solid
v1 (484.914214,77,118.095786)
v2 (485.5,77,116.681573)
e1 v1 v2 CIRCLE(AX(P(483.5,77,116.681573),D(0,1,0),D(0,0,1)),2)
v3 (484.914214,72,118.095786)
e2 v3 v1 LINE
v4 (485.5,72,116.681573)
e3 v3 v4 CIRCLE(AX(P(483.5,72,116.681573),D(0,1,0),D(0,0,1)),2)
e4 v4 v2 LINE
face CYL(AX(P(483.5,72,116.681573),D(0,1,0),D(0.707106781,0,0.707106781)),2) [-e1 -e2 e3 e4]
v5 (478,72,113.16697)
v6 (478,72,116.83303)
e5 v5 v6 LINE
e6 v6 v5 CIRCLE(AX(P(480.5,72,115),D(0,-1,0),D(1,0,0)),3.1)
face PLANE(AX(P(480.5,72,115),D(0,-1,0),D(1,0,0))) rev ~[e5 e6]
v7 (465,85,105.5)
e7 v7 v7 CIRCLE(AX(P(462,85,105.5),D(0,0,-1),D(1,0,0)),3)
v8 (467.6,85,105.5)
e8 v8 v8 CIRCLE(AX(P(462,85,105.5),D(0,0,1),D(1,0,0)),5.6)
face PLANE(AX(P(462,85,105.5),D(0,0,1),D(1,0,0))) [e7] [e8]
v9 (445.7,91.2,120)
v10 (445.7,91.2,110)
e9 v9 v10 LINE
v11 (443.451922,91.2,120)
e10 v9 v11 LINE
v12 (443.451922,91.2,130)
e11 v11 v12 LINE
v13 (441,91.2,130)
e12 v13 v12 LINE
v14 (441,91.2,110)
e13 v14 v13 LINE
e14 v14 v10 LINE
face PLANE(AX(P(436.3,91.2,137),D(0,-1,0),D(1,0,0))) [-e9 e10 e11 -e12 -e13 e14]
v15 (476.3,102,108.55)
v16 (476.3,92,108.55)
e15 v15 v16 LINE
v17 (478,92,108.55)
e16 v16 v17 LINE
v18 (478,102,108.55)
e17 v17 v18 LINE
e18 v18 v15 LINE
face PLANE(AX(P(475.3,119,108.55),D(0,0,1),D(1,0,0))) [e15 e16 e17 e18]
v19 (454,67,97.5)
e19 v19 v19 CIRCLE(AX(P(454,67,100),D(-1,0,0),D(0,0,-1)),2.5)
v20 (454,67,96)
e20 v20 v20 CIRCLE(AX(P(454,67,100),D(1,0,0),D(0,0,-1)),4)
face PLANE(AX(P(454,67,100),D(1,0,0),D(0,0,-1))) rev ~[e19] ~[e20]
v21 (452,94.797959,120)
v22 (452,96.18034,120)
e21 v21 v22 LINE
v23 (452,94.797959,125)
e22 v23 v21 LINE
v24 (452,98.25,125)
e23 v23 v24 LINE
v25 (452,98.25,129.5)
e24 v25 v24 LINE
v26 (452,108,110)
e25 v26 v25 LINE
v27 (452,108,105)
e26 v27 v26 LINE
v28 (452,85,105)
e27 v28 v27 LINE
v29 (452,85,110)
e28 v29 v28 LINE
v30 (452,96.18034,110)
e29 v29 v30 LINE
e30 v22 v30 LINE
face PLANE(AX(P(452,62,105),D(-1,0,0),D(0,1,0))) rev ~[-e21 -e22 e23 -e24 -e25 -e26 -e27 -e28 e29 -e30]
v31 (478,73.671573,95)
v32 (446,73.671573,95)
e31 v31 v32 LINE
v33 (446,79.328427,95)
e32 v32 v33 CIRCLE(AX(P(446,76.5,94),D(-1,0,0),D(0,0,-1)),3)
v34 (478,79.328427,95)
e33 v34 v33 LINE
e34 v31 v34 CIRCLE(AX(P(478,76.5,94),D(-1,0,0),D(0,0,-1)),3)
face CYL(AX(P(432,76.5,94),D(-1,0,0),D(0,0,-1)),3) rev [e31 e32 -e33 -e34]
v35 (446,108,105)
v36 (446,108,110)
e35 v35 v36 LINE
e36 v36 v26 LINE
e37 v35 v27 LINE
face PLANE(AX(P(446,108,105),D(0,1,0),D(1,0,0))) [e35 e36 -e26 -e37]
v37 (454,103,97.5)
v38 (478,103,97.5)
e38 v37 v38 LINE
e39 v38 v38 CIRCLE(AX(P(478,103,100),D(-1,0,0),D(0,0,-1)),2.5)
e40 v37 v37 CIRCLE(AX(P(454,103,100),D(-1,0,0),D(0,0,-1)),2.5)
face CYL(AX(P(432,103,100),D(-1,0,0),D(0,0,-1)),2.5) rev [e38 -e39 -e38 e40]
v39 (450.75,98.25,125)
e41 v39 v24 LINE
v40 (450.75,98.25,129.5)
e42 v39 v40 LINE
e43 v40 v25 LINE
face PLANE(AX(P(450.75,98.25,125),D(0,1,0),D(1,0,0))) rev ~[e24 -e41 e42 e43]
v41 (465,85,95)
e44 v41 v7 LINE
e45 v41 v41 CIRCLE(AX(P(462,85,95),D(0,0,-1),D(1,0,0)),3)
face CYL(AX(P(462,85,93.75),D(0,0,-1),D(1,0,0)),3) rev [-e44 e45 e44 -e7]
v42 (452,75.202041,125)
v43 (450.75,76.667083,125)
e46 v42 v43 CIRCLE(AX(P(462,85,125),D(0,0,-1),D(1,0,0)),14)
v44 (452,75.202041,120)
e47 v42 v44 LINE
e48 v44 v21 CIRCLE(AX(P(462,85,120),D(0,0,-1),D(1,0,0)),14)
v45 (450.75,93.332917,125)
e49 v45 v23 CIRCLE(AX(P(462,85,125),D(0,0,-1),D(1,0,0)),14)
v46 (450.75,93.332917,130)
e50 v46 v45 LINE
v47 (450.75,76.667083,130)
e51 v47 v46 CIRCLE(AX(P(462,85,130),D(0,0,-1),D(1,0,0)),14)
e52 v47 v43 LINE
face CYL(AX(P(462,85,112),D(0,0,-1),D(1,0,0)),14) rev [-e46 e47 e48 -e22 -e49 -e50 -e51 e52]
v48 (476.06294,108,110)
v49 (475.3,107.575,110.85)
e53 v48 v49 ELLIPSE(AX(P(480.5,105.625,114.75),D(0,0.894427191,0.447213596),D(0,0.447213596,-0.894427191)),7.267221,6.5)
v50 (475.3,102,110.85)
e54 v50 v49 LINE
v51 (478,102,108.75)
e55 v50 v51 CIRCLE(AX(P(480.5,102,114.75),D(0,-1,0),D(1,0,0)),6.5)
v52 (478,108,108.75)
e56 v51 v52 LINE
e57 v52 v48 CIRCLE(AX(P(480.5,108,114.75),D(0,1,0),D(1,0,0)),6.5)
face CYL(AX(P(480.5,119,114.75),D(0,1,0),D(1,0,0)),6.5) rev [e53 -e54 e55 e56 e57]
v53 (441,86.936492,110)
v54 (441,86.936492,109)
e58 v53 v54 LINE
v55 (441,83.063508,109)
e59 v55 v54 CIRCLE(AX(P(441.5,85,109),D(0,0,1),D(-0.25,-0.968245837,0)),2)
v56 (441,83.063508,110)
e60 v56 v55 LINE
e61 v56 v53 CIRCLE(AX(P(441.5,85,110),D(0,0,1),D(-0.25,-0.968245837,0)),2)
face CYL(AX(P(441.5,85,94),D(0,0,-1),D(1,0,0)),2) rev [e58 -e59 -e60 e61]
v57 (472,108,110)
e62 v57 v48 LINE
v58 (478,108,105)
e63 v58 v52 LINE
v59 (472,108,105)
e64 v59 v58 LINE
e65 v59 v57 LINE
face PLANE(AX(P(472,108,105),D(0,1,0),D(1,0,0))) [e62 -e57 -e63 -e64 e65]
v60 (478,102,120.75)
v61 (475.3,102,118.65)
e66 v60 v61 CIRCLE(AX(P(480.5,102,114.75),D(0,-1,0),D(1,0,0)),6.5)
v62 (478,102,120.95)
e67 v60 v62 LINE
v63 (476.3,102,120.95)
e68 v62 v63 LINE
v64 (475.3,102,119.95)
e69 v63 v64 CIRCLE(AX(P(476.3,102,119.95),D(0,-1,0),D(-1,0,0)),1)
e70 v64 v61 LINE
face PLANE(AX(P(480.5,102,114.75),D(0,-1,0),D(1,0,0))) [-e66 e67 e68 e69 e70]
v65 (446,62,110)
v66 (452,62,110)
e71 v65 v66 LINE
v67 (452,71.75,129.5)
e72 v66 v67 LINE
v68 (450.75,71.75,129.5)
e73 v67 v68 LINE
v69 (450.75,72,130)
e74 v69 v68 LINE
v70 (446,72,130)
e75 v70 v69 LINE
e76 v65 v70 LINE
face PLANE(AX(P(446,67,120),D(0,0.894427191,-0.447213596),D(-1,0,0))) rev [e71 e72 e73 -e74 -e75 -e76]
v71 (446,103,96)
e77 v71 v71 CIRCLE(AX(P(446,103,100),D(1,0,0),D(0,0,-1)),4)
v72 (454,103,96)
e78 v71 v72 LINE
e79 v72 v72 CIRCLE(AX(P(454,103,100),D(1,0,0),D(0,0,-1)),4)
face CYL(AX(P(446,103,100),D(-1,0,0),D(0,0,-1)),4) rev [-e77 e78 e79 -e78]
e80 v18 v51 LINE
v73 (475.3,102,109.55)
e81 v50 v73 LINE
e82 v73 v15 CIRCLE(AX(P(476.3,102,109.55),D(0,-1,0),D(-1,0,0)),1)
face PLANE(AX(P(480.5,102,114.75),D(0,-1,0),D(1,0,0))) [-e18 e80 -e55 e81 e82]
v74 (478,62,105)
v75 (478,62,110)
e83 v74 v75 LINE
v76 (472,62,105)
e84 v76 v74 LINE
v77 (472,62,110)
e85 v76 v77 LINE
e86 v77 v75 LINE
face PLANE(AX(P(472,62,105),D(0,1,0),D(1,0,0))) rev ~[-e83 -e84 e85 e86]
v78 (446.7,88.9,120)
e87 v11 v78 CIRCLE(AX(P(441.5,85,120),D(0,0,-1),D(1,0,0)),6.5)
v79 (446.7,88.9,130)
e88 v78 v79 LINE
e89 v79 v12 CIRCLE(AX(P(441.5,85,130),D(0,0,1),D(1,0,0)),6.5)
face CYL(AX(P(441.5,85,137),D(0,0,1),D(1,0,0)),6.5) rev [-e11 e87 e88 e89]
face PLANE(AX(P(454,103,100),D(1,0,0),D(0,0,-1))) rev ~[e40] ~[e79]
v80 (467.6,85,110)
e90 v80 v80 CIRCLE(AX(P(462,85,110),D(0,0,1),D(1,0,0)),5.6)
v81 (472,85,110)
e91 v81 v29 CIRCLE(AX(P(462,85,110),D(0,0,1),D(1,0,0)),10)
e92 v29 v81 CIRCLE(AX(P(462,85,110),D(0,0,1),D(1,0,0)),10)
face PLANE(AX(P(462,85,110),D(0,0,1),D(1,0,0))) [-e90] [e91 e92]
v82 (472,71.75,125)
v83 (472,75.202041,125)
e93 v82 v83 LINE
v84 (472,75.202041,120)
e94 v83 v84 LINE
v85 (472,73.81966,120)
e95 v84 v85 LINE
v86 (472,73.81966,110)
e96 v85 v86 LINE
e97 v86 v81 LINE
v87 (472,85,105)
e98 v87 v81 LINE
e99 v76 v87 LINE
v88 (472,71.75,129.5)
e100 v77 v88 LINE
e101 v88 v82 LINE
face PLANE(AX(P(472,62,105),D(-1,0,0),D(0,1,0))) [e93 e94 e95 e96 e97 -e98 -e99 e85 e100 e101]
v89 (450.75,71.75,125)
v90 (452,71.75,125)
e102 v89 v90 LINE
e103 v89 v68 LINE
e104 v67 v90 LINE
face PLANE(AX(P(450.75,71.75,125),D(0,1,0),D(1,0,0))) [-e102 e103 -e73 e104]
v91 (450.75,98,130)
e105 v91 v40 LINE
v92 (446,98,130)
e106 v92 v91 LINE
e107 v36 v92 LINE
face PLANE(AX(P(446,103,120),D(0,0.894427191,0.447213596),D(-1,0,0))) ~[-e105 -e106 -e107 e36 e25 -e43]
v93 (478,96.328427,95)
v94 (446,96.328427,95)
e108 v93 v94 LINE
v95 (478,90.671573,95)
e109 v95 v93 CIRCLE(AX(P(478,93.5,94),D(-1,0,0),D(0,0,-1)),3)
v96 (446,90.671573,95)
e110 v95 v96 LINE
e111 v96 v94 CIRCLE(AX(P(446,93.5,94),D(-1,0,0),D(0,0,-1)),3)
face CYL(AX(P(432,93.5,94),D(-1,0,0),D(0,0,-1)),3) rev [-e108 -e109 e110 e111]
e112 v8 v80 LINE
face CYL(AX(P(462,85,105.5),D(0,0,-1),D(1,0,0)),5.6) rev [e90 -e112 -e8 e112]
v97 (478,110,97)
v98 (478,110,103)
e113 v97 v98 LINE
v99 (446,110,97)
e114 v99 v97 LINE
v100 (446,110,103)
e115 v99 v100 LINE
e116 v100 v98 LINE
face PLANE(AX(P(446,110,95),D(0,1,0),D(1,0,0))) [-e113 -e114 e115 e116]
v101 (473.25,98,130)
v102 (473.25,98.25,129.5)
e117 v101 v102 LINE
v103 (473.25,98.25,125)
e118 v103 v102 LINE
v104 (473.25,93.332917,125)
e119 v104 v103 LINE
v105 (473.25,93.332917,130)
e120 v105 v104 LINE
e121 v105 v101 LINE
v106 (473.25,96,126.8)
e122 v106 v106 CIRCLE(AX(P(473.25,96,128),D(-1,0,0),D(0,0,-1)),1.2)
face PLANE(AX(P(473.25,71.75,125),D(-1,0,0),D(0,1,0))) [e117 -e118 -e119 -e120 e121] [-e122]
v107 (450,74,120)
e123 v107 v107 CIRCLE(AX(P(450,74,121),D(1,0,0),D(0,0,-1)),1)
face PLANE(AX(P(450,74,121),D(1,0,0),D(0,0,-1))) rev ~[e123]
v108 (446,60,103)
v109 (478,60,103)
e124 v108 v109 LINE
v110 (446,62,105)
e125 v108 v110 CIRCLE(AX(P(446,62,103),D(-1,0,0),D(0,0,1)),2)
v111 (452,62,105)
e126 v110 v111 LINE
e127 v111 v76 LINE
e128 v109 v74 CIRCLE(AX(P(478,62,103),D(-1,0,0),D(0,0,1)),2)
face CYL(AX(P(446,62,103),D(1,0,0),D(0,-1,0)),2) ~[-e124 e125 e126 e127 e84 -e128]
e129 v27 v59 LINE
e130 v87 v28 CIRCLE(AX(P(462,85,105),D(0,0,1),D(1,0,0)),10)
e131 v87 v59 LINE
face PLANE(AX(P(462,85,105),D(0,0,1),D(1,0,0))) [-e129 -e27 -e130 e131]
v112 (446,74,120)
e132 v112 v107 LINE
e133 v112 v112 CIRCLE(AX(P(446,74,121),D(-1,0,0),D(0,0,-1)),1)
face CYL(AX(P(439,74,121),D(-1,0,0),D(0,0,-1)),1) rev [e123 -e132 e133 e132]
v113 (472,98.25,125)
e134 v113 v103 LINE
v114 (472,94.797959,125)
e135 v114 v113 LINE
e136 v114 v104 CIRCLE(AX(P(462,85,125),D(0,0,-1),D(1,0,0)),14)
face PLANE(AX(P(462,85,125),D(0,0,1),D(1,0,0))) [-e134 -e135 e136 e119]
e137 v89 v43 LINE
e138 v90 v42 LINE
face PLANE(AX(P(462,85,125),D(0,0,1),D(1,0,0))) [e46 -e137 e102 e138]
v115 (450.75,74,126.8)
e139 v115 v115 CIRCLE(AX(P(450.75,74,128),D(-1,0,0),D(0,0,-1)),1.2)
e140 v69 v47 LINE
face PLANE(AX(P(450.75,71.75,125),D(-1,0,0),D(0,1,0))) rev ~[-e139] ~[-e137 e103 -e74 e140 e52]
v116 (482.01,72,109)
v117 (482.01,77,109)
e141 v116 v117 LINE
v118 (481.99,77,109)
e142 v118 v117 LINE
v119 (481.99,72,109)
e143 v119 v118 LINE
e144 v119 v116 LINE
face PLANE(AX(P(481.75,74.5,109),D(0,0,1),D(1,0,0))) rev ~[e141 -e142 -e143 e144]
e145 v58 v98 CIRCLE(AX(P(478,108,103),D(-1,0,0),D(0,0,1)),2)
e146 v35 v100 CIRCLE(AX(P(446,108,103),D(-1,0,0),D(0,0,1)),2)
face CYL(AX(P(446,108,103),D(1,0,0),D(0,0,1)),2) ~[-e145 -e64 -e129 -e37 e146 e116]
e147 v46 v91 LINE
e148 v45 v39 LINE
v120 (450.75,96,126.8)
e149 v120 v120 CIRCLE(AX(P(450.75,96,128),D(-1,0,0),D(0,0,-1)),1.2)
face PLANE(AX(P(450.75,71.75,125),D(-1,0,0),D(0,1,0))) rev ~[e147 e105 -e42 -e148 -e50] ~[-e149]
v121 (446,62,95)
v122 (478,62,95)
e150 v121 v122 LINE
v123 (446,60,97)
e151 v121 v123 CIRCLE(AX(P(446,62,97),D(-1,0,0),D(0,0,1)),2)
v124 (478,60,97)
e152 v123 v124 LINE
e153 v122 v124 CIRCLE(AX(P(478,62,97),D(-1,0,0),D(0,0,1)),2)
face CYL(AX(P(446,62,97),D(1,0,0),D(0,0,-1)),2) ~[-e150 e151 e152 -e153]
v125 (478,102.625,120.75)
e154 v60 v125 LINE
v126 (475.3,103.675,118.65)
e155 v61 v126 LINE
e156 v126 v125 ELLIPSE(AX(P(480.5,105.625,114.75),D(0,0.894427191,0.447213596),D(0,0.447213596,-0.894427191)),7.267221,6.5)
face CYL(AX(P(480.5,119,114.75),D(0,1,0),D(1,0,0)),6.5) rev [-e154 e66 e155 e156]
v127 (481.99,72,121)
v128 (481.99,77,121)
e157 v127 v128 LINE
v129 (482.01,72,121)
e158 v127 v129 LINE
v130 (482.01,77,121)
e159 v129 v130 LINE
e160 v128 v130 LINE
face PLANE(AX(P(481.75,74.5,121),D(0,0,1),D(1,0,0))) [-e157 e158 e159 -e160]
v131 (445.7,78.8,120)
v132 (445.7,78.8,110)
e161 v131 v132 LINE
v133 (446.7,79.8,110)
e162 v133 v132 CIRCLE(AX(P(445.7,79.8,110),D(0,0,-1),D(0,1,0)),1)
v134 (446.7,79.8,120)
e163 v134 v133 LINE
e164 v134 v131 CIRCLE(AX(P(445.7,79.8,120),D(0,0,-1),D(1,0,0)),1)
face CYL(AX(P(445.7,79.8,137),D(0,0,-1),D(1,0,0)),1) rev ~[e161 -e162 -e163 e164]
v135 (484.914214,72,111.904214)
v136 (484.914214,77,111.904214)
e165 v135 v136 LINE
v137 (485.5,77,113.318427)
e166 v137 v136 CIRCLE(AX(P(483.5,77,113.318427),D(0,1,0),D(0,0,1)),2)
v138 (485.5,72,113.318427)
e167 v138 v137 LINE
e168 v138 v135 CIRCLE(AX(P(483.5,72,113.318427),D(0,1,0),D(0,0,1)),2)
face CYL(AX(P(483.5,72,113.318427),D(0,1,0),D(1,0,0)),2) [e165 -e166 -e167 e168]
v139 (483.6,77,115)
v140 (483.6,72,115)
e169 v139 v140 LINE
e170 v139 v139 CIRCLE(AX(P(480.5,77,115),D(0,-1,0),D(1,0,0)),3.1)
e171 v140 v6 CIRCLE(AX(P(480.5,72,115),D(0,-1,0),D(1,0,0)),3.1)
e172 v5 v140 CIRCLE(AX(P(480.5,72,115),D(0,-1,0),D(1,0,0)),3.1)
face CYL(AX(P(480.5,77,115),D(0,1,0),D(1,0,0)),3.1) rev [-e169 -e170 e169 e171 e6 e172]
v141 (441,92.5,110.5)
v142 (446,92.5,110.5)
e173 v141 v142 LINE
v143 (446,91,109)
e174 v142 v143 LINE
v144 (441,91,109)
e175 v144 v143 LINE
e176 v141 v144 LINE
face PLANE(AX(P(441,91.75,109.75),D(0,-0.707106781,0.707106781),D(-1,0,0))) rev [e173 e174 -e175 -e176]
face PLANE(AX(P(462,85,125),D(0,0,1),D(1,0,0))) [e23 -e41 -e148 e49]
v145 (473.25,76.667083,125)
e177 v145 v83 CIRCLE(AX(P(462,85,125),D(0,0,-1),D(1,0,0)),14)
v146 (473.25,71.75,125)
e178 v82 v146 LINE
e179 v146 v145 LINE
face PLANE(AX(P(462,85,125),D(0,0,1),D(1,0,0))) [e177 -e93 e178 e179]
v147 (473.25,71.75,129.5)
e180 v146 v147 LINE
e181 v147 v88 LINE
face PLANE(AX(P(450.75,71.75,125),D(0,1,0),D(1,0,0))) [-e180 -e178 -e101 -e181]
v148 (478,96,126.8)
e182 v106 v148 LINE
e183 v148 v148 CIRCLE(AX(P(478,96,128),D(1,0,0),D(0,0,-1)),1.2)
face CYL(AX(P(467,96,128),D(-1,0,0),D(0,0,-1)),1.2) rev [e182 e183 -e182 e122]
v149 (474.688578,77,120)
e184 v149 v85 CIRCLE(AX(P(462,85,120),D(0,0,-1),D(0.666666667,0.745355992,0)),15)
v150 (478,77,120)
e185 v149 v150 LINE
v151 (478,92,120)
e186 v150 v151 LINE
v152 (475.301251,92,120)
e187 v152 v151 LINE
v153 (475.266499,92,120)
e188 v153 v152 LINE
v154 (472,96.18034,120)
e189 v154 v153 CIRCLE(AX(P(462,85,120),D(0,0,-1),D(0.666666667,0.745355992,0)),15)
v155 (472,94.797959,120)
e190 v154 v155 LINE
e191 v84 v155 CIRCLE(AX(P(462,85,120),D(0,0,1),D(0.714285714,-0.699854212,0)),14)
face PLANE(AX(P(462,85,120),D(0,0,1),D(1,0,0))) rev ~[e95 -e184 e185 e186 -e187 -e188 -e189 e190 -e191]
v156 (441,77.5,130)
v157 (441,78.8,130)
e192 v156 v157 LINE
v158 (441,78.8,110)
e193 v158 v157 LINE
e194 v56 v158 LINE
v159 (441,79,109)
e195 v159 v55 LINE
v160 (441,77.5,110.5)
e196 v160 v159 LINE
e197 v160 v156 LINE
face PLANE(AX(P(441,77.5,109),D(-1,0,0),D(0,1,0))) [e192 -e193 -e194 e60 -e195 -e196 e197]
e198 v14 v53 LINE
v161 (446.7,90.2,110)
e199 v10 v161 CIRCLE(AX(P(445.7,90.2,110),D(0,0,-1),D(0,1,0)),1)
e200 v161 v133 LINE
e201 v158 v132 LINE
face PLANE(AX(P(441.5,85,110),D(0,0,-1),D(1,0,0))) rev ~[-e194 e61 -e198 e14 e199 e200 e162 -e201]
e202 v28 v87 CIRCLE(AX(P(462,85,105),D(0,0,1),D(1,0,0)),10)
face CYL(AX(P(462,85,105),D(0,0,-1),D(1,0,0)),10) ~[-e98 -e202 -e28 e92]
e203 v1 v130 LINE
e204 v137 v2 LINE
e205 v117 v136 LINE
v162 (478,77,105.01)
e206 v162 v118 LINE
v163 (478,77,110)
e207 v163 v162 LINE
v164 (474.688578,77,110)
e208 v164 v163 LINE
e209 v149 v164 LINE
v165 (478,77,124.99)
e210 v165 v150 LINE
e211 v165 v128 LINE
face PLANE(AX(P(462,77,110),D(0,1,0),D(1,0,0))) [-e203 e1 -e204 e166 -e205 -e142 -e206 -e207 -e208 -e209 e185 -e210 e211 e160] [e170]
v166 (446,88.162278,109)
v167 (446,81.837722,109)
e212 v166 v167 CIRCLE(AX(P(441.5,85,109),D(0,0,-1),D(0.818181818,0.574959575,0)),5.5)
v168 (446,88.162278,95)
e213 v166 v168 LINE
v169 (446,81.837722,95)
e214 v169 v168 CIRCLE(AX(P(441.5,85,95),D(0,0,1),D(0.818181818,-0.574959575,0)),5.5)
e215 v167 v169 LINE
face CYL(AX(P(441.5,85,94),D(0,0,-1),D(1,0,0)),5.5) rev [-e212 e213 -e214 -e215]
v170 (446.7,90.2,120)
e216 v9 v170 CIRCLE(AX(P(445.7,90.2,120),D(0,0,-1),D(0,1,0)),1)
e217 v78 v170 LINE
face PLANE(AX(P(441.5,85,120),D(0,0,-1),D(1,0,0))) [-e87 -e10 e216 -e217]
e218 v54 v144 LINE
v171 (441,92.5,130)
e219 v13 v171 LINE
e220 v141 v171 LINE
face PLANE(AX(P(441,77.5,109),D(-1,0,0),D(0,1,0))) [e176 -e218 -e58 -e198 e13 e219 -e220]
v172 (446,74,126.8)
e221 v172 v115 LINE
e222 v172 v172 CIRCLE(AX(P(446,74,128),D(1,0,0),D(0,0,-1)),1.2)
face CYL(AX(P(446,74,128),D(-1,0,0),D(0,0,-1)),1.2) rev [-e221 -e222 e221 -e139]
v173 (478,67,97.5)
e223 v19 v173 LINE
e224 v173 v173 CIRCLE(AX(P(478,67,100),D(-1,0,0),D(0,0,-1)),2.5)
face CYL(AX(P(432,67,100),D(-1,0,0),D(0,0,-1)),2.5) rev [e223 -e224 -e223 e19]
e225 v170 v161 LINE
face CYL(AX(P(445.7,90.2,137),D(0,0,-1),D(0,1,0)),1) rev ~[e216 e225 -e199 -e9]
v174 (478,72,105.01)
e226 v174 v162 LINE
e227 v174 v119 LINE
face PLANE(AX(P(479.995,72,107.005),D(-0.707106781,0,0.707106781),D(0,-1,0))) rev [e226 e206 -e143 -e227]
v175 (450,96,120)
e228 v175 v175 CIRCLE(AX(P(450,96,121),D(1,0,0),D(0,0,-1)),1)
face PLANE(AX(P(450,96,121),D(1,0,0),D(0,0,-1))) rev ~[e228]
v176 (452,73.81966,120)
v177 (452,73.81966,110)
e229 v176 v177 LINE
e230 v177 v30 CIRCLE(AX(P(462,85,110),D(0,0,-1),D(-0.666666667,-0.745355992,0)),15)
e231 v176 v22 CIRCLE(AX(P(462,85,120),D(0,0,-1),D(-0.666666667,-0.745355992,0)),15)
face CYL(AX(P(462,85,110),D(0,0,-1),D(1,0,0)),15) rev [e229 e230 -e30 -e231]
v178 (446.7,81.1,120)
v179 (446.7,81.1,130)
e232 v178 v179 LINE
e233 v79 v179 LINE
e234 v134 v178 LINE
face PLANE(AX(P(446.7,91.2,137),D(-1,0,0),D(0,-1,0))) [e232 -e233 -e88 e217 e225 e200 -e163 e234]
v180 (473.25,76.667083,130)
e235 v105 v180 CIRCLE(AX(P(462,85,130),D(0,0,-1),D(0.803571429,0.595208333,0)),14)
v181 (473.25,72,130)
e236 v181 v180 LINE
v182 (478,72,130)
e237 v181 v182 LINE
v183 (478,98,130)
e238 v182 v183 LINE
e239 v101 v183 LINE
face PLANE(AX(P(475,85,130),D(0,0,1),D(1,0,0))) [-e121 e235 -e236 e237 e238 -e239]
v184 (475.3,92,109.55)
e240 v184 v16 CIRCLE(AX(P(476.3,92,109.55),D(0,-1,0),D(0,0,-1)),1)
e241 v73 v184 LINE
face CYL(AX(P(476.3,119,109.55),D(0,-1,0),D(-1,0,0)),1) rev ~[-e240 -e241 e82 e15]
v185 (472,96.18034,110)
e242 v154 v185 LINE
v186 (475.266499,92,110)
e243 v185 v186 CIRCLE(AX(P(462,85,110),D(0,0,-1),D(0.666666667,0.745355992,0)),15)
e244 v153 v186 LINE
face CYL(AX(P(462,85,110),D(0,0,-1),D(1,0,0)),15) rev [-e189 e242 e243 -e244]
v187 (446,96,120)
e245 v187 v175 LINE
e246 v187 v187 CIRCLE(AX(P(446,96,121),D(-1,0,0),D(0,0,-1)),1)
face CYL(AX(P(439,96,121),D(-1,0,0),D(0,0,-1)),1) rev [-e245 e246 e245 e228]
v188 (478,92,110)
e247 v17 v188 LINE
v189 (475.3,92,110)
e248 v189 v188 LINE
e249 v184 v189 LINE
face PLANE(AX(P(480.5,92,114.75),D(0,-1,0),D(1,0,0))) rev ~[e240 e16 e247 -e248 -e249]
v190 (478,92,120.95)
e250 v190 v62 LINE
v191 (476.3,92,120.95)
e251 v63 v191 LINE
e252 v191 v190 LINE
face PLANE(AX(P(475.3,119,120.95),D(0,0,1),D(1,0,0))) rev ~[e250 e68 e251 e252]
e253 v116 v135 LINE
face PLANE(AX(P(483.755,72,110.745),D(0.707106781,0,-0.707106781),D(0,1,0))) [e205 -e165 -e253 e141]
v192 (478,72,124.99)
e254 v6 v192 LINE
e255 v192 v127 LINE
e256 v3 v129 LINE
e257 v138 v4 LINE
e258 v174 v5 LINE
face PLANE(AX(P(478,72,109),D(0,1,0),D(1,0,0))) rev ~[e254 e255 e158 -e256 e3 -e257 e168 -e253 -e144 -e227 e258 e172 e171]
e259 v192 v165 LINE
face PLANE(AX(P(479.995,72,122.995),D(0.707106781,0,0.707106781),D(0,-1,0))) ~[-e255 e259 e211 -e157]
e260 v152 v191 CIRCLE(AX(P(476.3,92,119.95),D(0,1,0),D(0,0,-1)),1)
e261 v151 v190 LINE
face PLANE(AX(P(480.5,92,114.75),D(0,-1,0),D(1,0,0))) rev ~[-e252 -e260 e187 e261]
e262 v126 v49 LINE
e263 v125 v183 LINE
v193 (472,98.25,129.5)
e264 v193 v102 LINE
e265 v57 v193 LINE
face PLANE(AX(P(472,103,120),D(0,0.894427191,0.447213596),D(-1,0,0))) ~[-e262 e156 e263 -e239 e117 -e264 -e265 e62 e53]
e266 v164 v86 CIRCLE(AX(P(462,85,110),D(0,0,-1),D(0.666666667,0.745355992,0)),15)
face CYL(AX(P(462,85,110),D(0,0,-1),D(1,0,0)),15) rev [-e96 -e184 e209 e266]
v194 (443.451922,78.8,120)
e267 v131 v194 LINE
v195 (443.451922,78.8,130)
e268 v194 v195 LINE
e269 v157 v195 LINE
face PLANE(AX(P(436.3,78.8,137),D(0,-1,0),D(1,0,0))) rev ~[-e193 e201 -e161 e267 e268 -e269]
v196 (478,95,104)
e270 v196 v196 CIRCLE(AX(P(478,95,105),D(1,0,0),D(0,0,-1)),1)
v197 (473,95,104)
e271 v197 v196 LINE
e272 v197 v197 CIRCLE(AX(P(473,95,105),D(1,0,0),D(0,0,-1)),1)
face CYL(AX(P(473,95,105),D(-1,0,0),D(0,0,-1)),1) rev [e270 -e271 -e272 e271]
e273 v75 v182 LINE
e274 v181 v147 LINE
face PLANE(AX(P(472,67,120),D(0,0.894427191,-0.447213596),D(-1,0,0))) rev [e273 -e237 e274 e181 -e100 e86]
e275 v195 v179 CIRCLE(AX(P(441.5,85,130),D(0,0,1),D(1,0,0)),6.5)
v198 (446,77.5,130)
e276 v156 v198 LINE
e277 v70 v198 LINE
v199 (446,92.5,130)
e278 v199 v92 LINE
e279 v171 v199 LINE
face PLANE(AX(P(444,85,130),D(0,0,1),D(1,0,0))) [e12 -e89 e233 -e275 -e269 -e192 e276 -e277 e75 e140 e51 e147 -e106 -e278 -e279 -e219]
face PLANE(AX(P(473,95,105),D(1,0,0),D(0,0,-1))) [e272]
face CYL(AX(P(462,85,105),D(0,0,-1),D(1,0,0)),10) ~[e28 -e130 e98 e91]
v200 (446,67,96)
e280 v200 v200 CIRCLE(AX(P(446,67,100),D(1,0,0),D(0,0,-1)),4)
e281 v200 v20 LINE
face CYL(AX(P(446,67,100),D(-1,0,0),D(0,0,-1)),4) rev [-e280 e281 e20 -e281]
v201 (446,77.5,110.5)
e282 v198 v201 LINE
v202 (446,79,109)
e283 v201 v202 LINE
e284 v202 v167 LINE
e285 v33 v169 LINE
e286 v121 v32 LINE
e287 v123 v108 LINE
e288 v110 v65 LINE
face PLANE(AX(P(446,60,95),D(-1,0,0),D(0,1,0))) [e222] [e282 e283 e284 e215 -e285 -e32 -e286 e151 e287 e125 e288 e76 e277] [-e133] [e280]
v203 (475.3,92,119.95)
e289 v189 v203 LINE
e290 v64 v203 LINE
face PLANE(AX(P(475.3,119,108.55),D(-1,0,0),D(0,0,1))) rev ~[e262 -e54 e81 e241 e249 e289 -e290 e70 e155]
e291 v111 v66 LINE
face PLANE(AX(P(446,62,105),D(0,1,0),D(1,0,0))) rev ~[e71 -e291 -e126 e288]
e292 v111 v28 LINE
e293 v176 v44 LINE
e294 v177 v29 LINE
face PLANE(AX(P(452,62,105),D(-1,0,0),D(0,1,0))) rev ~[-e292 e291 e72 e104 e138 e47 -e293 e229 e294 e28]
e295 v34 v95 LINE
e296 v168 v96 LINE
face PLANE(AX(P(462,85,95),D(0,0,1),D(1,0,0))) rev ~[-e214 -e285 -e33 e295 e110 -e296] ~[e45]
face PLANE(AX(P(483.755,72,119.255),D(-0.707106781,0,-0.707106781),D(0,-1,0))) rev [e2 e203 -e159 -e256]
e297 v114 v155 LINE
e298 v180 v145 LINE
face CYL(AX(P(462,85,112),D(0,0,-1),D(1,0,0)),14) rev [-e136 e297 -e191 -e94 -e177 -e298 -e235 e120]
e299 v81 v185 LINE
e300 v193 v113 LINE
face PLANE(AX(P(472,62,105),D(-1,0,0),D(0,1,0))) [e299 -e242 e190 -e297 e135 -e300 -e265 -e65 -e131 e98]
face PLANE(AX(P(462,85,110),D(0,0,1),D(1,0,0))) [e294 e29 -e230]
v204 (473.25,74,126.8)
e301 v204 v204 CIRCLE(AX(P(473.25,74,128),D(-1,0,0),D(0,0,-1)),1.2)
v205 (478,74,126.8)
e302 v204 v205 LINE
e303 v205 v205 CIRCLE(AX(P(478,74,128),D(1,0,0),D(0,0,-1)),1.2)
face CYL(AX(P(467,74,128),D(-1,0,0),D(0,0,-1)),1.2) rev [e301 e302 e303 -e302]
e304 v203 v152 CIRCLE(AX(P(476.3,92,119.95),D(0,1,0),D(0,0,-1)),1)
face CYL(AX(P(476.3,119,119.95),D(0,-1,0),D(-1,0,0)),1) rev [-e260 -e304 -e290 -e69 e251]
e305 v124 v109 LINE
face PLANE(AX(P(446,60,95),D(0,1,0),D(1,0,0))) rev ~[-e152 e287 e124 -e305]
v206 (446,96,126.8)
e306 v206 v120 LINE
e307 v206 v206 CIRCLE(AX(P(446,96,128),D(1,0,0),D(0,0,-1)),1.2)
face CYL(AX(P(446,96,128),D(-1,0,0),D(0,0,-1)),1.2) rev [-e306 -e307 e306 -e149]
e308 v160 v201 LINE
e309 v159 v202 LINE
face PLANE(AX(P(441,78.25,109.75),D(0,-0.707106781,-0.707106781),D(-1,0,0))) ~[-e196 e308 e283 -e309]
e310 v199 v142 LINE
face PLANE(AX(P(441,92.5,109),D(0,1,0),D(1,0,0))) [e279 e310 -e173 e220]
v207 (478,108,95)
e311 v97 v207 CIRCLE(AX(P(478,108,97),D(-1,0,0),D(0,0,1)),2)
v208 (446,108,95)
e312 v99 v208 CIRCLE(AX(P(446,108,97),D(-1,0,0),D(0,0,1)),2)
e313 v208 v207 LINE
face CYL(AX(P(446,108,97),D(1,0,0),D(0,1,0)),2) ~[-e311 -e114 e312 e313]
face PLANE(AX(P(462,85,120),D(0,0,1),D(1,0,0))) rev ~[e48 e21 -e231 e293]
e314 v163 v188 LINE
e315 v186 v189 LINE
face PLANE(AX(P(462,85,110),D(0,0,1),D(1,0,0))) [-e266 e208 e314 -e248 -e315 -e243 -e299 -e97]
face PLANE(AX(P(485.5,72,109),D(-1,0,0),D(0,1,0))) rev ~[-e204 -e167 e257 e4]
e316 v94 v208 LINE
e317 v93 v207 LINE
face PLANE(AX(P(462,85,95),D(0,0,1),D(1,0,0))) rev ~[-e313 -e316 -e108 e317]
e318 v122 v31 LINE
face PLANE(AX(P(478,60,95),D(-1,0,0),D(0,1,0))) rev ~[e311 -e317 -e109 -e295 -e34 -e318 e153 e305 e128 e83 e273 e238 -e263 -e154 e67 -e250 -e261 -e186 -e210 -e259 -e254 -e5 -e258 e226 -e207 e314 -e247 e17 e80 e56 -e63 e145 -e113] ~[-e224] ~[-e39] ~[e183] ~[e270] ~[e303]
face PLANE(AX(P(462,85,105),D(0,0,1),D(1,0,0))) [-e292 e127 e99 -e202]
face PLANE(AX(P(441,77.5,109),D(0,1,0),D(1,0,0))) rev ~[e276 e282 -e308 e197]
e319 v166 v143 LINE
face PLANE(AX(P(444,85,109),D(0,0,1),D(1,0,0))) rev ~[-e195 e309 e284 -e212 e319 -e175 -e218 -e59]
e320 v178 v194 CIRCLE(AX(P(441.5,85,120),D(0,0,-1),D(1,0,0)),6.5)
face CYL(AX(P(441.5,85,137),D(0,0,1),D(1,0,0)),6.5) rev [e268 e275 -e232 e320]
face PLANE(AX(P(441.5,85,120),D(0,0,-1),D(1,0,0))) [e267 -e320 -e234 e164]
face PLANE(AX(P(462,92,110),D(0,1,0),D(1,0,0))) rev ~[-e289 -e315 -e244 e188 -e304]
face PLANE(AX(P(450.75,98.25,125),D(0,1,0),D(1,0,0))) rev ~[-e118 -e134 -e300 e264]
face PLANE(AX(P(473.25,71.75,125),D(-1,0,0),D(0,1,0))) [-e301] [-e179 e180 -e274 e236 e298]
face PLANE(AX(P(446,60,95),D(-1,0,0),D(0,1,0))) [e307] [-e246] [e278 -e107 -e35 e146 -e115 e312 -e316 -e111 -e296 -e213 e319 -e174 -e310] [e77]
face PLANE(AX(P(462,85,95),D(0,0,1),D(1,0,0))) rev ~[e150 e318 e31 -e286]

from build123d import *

# Parameters (mm, degrees)
CYLINDER1321_R            = 1.2
CYLINDER1321_DEPTH        = 11
CYLINDER1322_R            = 1.2
CYLINDER1322_DEPTH        = 11
CYLINDER1315_R            = 1.2
CYLINDER1315_DEPTH        = 11
CYLINDER1316_R            = 1.2
CYLINDER1316_DEPTH        = 11
BOX544_W                  = 22.5
BOX544_H                  = 26.5
BOX544_DEPTH              = 5
CYLINDER1311_R            = 14
CYLINDER1311_DEPTH        = 19
CYLINDER1235_R            = 1
CYLINDER1235_DEPTH        = 5
CYLINDER1226_R            = 1
CYLINDER1226_DEPTH        = 11
CYLINDER1225_R            = 1
CYLINDER1225_DEPTH        = 11
BOX510_W                  = 10.4
BOX510_H                  = 12.4
BOX510_DEPTH              = 27
FILLET398_R               = 1
CYLINDER1204_R            = 8
CYLINDER1204_DEPTH        = 27
CYLINDER1206_R            = 6.5
CYLINDER1206_DEPTH        = 17
CYLINDER1205_R            = 8
CYLINDER1205_DEPTH        = 17
CYLINDER1207_R            = 8
CYLINDER1207_DEPTH        = 27
CUT014249_PLACEMENT_ANGLE = 180
CYLINDER1215_R            = 2
CYLINDER1215_DEPTH        = 16
BOX513_W                  = 6
BOX513_H                  = 15
BOX513_DEPTH              = 21
CHAMFER007_SIZE           = 1.5
CYLINDER1213_R            = 5.5
CYLINDER1213_DEPTH        = 16
CYLINDER1203_R            = 15
CYLINDER1203_DEPTH        = 10
BOX509_W                  = 6
BOX509_H                  = 46
BOX509_DEPTH              = 25
CHAMFER006_1_SIZE2        = 10
CHAMFER006_1_SIZE         = 20
CHAMFER006_2_SIZE2        = 10
CHAMFER006_2_SIZE         = 20
CYLINDER1297_R            = 4
CYLINDER1297_DEPTH        = 8
CYLINDER1296_R            = 4
CYLINDER1296_DEPTH        = 8
CYLINDER1295_R            = 2.5
CYLINDER1295_DEPTH        = 60
CYLINDER1294_R            = 2.5
CYLINDER1294_DEPTH        = 60
CYLINDER1289_R            = 3
CYLINDER1289_DEPTH        = 33.5
CYLINDER1287_R            = 5.6
CYLINDER1287_DEPTH        = 4.5
CYLINDER1288_R            = 10
CYLINDER1288_DEPTH        = 5
CYLINDER1285_R            = 3
CYLINDER1285_DEPTH        = 60
CYLINDER1284_R            = 3
CYLINDER1284_DEPTH        = 60
CYLINDER1214_R            = 5.5
CYLINDER1214_DEPTH        = 16
BOX_W                     = 32
BOX_H                     = 50
BOX_DEPTH                 = 10
FILLET413_R               = 2
CYLINDER1218_R            = 3.1
CYLINDER1218_DEPTH        = 5
BOX511_W                  = 10.4
BOX511_H                  = 12.4
BOX511_DEPTH              = 27
FILLET399_R               = 1
CYLINDER1208_R            = 8
CYLINDER1208_DEPTH        = 27
CYLINDER1210_R            = 6.5
CYLINDER1210_DEPTH        = 17
CYLINDER1209_R            = 8
CYLINDER1209_DEPTH        = 17
CYLINDER1211_R            = 8
CYLINDER1211_DEPTH        = 27
CUT014252_PLACEMENT_ANGLE = 90
BOX508_W                  = 22
BOX508_H                  = 15
BOX508_DEPTH              = 10
CYLINDER1216_R            = 15
CYLINDER1216_DEPTH        = 10
BOX506_W                  = 6
BOX506_H                  = 46
BOX506_DEPTH              = 25
CHAMFER005_1_SIZE2        = 10
CHAMFER005_1_SIZE         = 20
CHAMFER005_2_SIZE2        = 10
CHAMFER005_2_SIZE         = 20
BOX514_W                  = 7.5
BOX514_H                  = 5
BOX514_DEPTH              = 12
CHAMFER038_SIZE           = 3.99
CHAMFER039_SIZE           = 3.49
FILLET414_R               = 2


with BuildPart() as cylinder1321:
    # Cylinder1321 → Cylinder1321 (new body)
    with BuildSketch(Plane(origin=(439, 96, 121), x_dir=(0, 0, -1), z_dir=(1, 0, 0))):
        Circle(CYLINDER1321_R)
    extrude(amount=CYLINDER1321_DEPTH)


with BuildPart() as fusion248002050193:
    # Cylinder1322 → Cylinder1322 (new body)
    with BuildSketch(Plane(origin=(439, 74, 121), x_dir=(0, 0, -1), z_dir=(1, 0, 0))):
        Circle(CYLINDER1322_R)
    extrude(amount=CYLINDER1322_DEPTH)

    # Fusion248002050193: union Cylinder1321
    add(cylinder1321.part)


with BuildPart() as fusion248002050193_1:
    # Fusion248002050193 placement: moved
    add(fusion248002050193.part.moved(Location((28, 0, 7))))


with BuildPart() as cylinder1315:
    # Cylinder1315 → Cylinder1315 (new body)
    with BuildSketch(Plane(origin=(439, 96, 121), x_dir=(0, 0, -1), z_dir=(1, 0, 0))):
        Circle(CYLINDER1315_R)
    extrude(amount=CYLINDER1315_DEPTH)


with BuildPart() as fusion248002050194:
    # Cylinder1316 → Cylinder1316 (new body)
    with BuildSketch(Plane(origin=(439, 74, 121), x_dir=(0, 0, -1), z_dir=(1, 0, 0))):
        Circle(CYLINDER1316_R)
    extrude(amount=CYLINDER1316_DEPTH)

    # Fusion248002050189: union Cylinder1315
    add(cylinder1315.part)


with BuildPart() as fusion248002050194_1:
    # Fusion248002050189 placement: moved
    add(fusion248002050194.part.moved(Location((7, 0, 7))))

    # Fusion248002050194: union Fusion248002050193
    add(fusion248002050193_1.part)


with BuildPart() as cube770:
    # Box544 → Box544 (new body)
    with BuildSketch(Plane(origin=(450.75, 71.75, 125), x_dir=(1, 0, 0), z_dir=(0, 0, 1))):
        with Locations((11.25, 13.25)):
            Rectangle(BOX544_W, BOX544_H)
    extrude(amount=BOX544_DEPTH)


with BuildPart() as fusion248002050202:
    # Cylinder1311 → Cylinder1311 (new body)
    with BuildSketch(Plane(origin=(462, 85, 112), x_dir=(1, 0, 0), z_dir=(0, 0, 1))):
        Circle(CYLINDER1311_R)
    extrude(amount=CYLINDER1311_DEPTH)

    # Fusion248002050202: union Cube770
    add(cube770.part)


with BuildPart() as cylinder1235:
    # Cylinder1235 → Cylinder1235 (new body)
    with BuildSketch(Plane(origin=(473, 95, 105), x_dir=(0, 0, -1), z_dir=(1, 0, 0))):
        Circle(CYLINDER1235_R)
    extrude(amount=CYLINDER1235_DEPTH)


with BuildPart() as cylinder1226:
    # Cylinder1226 → Cylinder1226 (new body)
    with BuildSketch(Plane(origin=(439, 96, 121), x_dir=(0, 0, -1), z_dir=(1, 0, 0))):
        Circle(CYLINDER1226_R)
    extrude(amount=CYLINDER1226_DEPTH)


with BuildPart() as fusion248002050135:
    # Cylinder1225 → Cylinder1225 (new body)
    with BuildSketch(Plane(origin=(439, 74, 121), x_dir=(0, 0, -1), z_dir=(1, 0, 0))):
        Circle(CYLINDER1225_R)
    extrude(amount=CYLINDER1225_DEPTH)

    # Fusion248002050135: union Cylinder1226
    add(cylinder1226.part)


with BuildPart() as fillet398:
    # Box510 → Box510 (new body)
    with BuildSketch(Plane(origin=(-5.2, -6.2, 0), x_dir=(1, 0, 0), z_dir=(0, 0, 1))):
        with Locations((5.2, 6.2)):
            Rectangle(BOX510_W, BOX510_H)
    extrude(amount=BOX510_DEPTH)

    # Fillet398
    fillet398_edges = [fillet398.edges().sort_by_distance(p)[0] for p in [
        (-5.2, -6.2, 13.5),
        (-5.2, 6.2, 13.5),
        (5.2, -6.2, 13.5),
        (5.2, 6.2, 13.5),
    ]]
    fillet(fillet398_edges, radius=FILLET398_R)


with BuildPart() as cut014248:
    # Cylinder1204 → Cylinder1204 (new body)
    with BuildSketch(Plane.XY):
        Circle(CYLINDER1204_R)
    extrude(amount=CYLINDER1204_DEPTH)

    # Cut014248: cut Fillet398
    add(fillet398.part, mode=Mode.SUBTRACT)


with BuildPart() as cylinder1417:
    # Cylinder1206 → Cylinder1206 (new body)
    with BuildSketch(Plane.XY):
        Circle(CYLINDER1206_R)
    extrude(amount=CYLINDER1206_DEPTH)


with BuildPart() as fusion248002050126:
    # Cylinder1205 → Cylinder1205 (new body)
    with BuildSketch(Plane.XY):
        Circle(CYLINDER1205_R)
    extrude(amount=CYLINDER1205_DEPTH)

    # Cut014247: cut Cylinder1417
    add(cylinder1417.part, mode=Mode.SUBTRACT)

    # Fusion248002050126: union Cut014248
    add(cut014248.part)


with BuildPart() as bucket_opening_motor001:
    # Cylinder1207 → Cylinder1207 (new body)
    with BuildSketch(Plane.XY):
        Circle(CYLINDER1207_R)
    extrude(amount=CYLINDER1207_DEPTH)

    # Cut014249: cut Fusion248002050126
    add(fusion248002050126.part, mode=Mode.SUBTRACT)


with BuildPart() as bucket_opening_motor001_1:
    # Cut014249 placement: moved
    add(bucket_opening_motor001.part.moved(Location((441.5, 85, 137))).rotate(Axis((441.5, 85, 137), (1, 0, 0)), CUT014249_PLACEMENT_ANGLE))


with BuildPart() as cylinder1215:
    # Cylinder1215 → Cylinder1215 (new body)
    with BuildSketch(Plane(origin=(441.5, 85, 94), x_dir=(1, 0, 0), z_dir=(0, 0, 1))):
        Circle(CYLINDER1215_R)
    extrude(amount=CYLINDER1215_DEPTH)


with BuildPart() as cut014257:
    # Box513 → Box513 (new body)
    with BuildSketch(Plane(origin=(441, 77.5, 109), x_dir=(1, 0, 0), z_dir=(0, 0, 1))):
        with Locations((3, 7.5)):
            Rectangle(BOX513_W, BOX513_H)
    extrude(amount=BOX513_DEPTH)

    # Chamfer007
    chamfer007_edges = [cut014257.edges().sort_by_distance(p)[0] for p in [
        (444, 77.5, 109),
        (444, 92.5, 109),
    ]]
    chamfer(chamfer007_edges, length=CHAMFER007_SIZE)

    # Cut014257: cut Cylinder1215
    add(cylinder1215.part, mode=Mode.SUBTRACT)


with BuildPart() as cylinder1213:
    # Cylinder1213 → Cylinder1213 (new body)
    with BuildSketch(Plane(origin=(441.5, 85, 94), x_dir=(1, 0, 0), z_dir=(0, 0, 1))):
        Circle(CYLINDER1213_R)
    extrude(amount=CYLINDER1213_DEPTH)


with BuildPart() as cylinder1203:
    # Cylinder1203 → Cylinder1203 (new body)
    with BuildSketch(Plane(origin=(462, 85, 110), x_dir=(1, 0, 0), z_dir=(0, 0, 1))):
        Circle(CYLINDER1203_R)
    extrude(amount=CYLINDER1203_DEPTH)


with BuildPart() as cut014292:
    # Box509 → Box509 (new body)
    with BuildSketch(Plane(origin=(472, 62, 105), x_dir=(1, 0, 0), z_dir=(0, 0, 1))):
        with Locations((3, 23)):
            Rectangle(BOX509_W, BOX509_H)
    extrude(amount=BOX509_DEPTH)

    # Chamfer006 1
    chamfer006_1_edges = [cut014292.edges().sort_by_distance(p)[0] for p in [
        (475, 108, 130),
    ]]
    chamfer006_1_side = cut014292.faces().sort_by_distance((475, 108, 117.5))[0]
    chamfer(chamfer006_1_edges, length=CHAMFER006_1_SIZE, length2=CHAMFER006_1_SIZE2, reference=chamfer006_1_side)

    # Chamfer006 2
    chamfer006_2_edges = [cut014292.edges().sort_by_distance(p)[0] for p in [
        (475, 62, 130),
    ]]
    chamfer006_2_side = cut014292.faces().sort_by_distance((475, 62, 117.5))[0]
    chamfer(chamfer006_2_edges, length=CHAMFER006_2_SIZE, length2=CHAMFER006_2_SIZE2, reference=chamfer006_2_side)


with BuildPart() as cut014292_1:
    # Chamfer006 placement: moved
    add(cut014292.part.moved(Location((-26, 0, 0))))

    # Cut014245: cut Cylinder1203
    add(cylinder1203.part, mode=Mode.SUBTRACT)

    # Cut014255: cut Cylinder1213
    add(cylinder1213.part, mode=Mode.SUBTRACT)

    # Fusion248002050128: union Cut014257
    add(cut014257.part)

    # Cut014258: cut bucket-opening-motor001
    add(bucket_opening_motor001_1.part, mode=Mode.SUBTRACT)

    # Cut014292: cut Fusion248002050135
    add(fusion248002050135.part, mode=Mode.SUBTRACT)


with BuildPart() as cylinder1297:
    # Cylinder1297 → Cylinder1297 (new body)
    with BuildSketch(Plane(origin=(432, 67, 100), x_dir=(0, 0, -1), z_dir=(1, 0, 0))):
        Circle(CYLINDER1297_R)
    extrude(amount=CYLINDER1297_DEPTH)


with BuildPart() as fusion248002050174:
    # Cylinder1296 → Cylinder1296 (new body)
    with BuildSketch(Plane(origin=(432, 103, 100), x_dir=(0, 0, -1), z_dir=(1, 0, 0))):
        Circle(CYLINDER1296_R)
    extrude(amount=CYLINDER1296_DEPTH)

    # Fusion248002050174: union Cylinder1297
    add(cylinder1297.part)


with BuildPart() as fusion248002050174_1:
    # Fusion248002050174 placement: moved
    add(fusion248002050174.part.moved(Location((14, 0, 0))))


with BuildPart() as cylinder1295:
    # Cylinder1295 → Cylinder1295 (new body)
    with BuildSketch(Plane(origin=(432, 67, 100), x_dir=(0, 0, -1), z_dir=(1, 0, 0))):
        Circle(CYLINDER1295_R)
    extrude(amount=CYLINDER1295_DEPTH)


with BuildPart() as fusion248002050173:
    # Cylinder1294 → Cylinder1294 (new body)
    with BuildSketch(Plane(origin=(432, 103, 100), x_dir=(0, 0, -1), z_dir=(1, 0, 0))):
        Circle(CYLINDER1294_R)
    extrude(amount=CYLINDER1294_DEPTH)

    # Fusion248002050173: union Cylinder1295
    add(cylinder1295.part)


with BuildPart() as cylinder1289:
    # Cylinder1289 → Cylinder1289 (new body)
    with BuildSketch(Plane(origin=(462, 85, 93.75), x_dir=(1, 0, 0), z_dir=(0, 0, 1))):
        Circle(CYLINDER1289_R)
    extrude(amount=CYLINDER1289_DEPTH)


with BuildPart() as cylinder1287:
    # Cylinder1287 → Cylinder1287 (new body)
    with BuildSketch(Plane(origin=(462, 85, 105.5), x_dir=(1, 0, 0), z_dir=(0, 0, 1))):
        Circle(CYLINDER1287_R)
    extrude(amount=CYLINDER1287_DEPTH)


with BuildPart() as cut014299:
    # Cylinder1288 → Cylinder1288 (new body)
    with BuildSketch(Plane(origin=(462, 85, 105), x_dir=(1, 0, 0), z_dir=(0, 0, 1))):
        Circle(CYLINDER1288_R)
    extrude(amount=CYLINDER1288_DEPTH)

    # Cut014299: cut Cylinder1287
    add(cylinder1287.part, mode=Mode.SUBTRACT)


with BuildPart() as cylinder1285:
    # Cylinder1285 → Cylinder1285 (new body)
    with BuildSketch(Plane(origin=(432, 93.5, 94), x_dir=(0, 0, -1), z_dir=(1, 0, 0))):
        Circle(CYLINDER1285_R)
    extrude(amount=CYLINDER1285_DEPTH)


with BuildPart() as fusion248002050169:
    # Cylinder1284 → Cylinder1284 (new body)
    with BuildSketch(Plane(origin=(432, 76.5, 94), x_dir=(0, 0, -1), z_dir=(1, 0, 0))):
        Circle(CYLINDER1284_R)
    extrude(amount=CYLINDER1284_DEPTH)

    # Fusion248002050169: union Cylinder1285
    add(cylinder1285.part)


with BuildPart() as cylinder1214:
    # Cylinder1214 → Cylinder1214 (new body)
    with BuildSketch(Plane(origin=(441.5, 85, 94), x_dir=(1, 0, 0), z_dir=(0, 0, 1))):
        Circle(CYLINDER1214_R)
    extrude(amount=CYLINDER1214_DEPTH)


with BuildPart() as fillet413:
    # Box → Box (new body)
    with BuildSketch(Plane(origin=(446, 60, 95), x_dir=(1, 0, 0), z_dir=(0, 0, 1))):
        with Locations((16, 25)):
            Rectangle(BOX_W, BOX_H)
    extrude(amount=BOX_DEPTH)

    # Cut014325: cut Cylinder1214
    add(cylinder1214.part, mode=Mode.SUBTRACT)

    # Cut014326: cut Fusion248002050169
    add(fusion248002050169.part, mode=Mode.SUBTRACT)

    # Fusion248002050203: union Cut014299
    add(cut014299.part)

    # Cut014327: cut Cylinder1289
    add(cylinder1289.part, mode=Mode.SUBTRACT)

    # Cut014328: cut Fusion248002050173
    add(fusion248002050173.part, mode=Mode.SUBTRACT)

    # Cut014329: cut Fusion248002050174
    add(fusion248002050174_1.part, mode=Mode.SUBTRACT)

    # Fillet413
    fillet413_edges = [fillet413.edges().sort_by_distance(p)[0] for p in [
        (462, 60, 105),
        (462, 110, 105),
        (462, 60, 95),
        (462, 110, 95),
    ]]
    fillet(fillet413_edges, radius=FILLET413_R)


with BuildPart() as cylinder1218:
    # Cylinder1218 → Cylinder1218 (new body)
    with BuildSketch(Plane(origin=(480.5, 77, 115), x_dir=(1, 0, 0), z_dir=(0, -1, 0))):
        Circle(CYLINDER1218_R)
    extrude(amount=CYLINDER1218_DEPTH)


with BuildPart() as fillet399:
    # Box511 → Box511 (new body)
    with BuildSketch(Plane(origin=(-5.2, -6.2, 0), x_dir=(1, 0, 0), z_dir=(0, 0, 1))):
        with Locations((5.2, 6.2)):
            Rectangle(BOX511_W, BOX511_H)
    extrude(amount=BOX511_DEPTH)

    # Fillet399
    fillet399_edges = [fillet399.edges().sort_by_distance(p)[0] for p in [
        (-5.2, -6.2, 13.5),
        (-5.2, 6.2, 13.5),
        (5.2, -6.2, 13.5),
        (5.2, 6.2, 13.5),
    ]]
    fillet(fillet399_edges, radius=FILLET399_R)


with BuildPart() as cut014251:
    # Cylinder1208 → Cylinder1208 (new body)
    with BuildSketch(Plane.XY):
        Circle(CYLINDER1208_R)
    extrude(amount=CYLINDER1208_DEPTH)

    # Cut014251: cut Fillet399
    add(fillet399.part, mode=Mode.SUBTRACT)


with BuildPart() as cylinder1421:
    # Cylinder1210 → Cylinder1210 (new body)
    with BuildSketch(Plane.XY):
        Circle(CYLINDER1210_R)
    extrude(amount=CYLINDER1210_DEPTH)


with BuildPart() as fusion248002050127:
    # Cylinder1209 → Cylinder1209 (new body)
    with BuildSketch(Plane.XY):
        Circle(CYLINDER1209_R)
    extrude(amount=CYLINDER1209_DEPTH)

    # Cut014250: cut Cylinder1421
    add(cylinder1421.part, mode=Mode.SUBTRACT)

    # Fusion248002050127: union Cut014251
    add(cut014251.part)


with BuildPart() as bucket_turning_motor001:
    # Cylinder1211 → Cylinder1211 (new body)
    with BuildSketch(Plane.XY):
        Circle(CYLINDER1211_R)
    extrude(amount=CYLINDER1211_DEPTH)

    # Cut014252: cut Fusion248002050127
    add(fusion248002050127.part, mode=Mode.SUBTRACT)


with BuildPart() as bucket_turning_motor001_1:
    # Cut014252 placement: moved
    add(bucket_turning_motor001.part.moved(Location((480.5, 119, 114.75))).rotate(Axis((480.5, 119, 114.75), (1, 0, 0)), CUT014252_PLACEMENT_ANGLE))


with BuildPart() as cube734:
    # Box508 → Box508 (new body)
    with BuildSketch(Plane(origin=(462, 77, 110), x_dir=(1, 0, 0), z_dir=(0, 0, 1))):
        with Locations((11, 7.5)):
            Rectangle(BOX508_W, BOX508_H)
    extrude(amount=BOX508_DEPTH)


with BuildPart() as cylinder1216:
    # Cylinder1216 → Cylinder1216 (new body)
    with BuildSketch(Plane(origin=(462, 85, 110), x_dir=(1, 0, 0), z_dir=(0, 0, 1))):
        Circle(CYLINDER1216_R)
    extrude(amount=CYLINDER1216_DEPTH)


with BuildPart() as cut014261:
    # Box506 → Box506 (new body)
    with BuildSketch(Plane(origin=(472, 62, 105), x_dir=(1, 0, 0), z_dir=(0, 0, 1))):
        with Locations((3, 23)):
            Rectangle(BOX506_W, BOX506_H)
    extrude(amount=BOX506_DEPTH)

    # Chamfer005 1
    chamfer005_1_edges = [cut014261.edges().sort_by_distance(p)[0] for p in [
        (475, 108, 130),
    ]]
    chamfer005_1_side = cut014261.faces().sort_by_distance((475, 108, 117.5))[0]
    chamfer(chamfer005_1_edges, length=CHAMFER005_1_SIZE, length2=CHAMFER005_1_SIZE2, reference=chamfer005_1_side)

    # Chamfer005 2
    chamfer005_2_edges = [cut014261.edges().sort_by_distance(p)[0] for p in [
        (475, 62, 130),
    ]]
    chamfer005_2_side = cut014261.faces().sort_by_distance((475, 62, 117.5))[0]
    chamfer(chamfer005_2_edges, length=CHAMFER005_2_SIZE, length2=CHAMFER005_2_SIZE2, reference=chamfer005_2_side)

    # Cut014259: cut Cylinder1216
    add(cylinder1216.part, mode=Mode.SUBTRACT)

    # Cut014260: cut Cube734
    add(cube734.part, mode=Mode.SUBTRACT)

    # Cut014261: cut bucket-turning-motor001
    add(bucket_turning_motor001_1.part, mode=Mode.SUBTRACT)


with BuildPart() as bucket_body:
    # Box514 → Box514 (new body)
    with BuildSketch(Plane(origin=(478, 72, 109), x_dir=(1, 0, 0), z_dir=(0, 0, 1))):
        with Locations((3.75, 2.5)):
            Rectangle(BOX514_W, BOX514_H)
    extrude(amount=BOX514_DEPTH)

    # Fusion248002050204: union Cut014261
    add(cut014261.part)

    # Chamfer038
    chamfer038_edges = [bucket_body.edges().sort_by_distance(p)[0] for p in [
        (478, 74.5, 121),
        (478, 74.5, 109),
    ]]
    chamfer(chamfer038_edges, length=CHAMFER038_SIZE)

    # Chamfer039
    chamfer039_edges = [bucket_body.edges().sort_by_distance(p)[0] for p in [
        (485.5, 74.5, 109),
        (485.5, 74.5, 121),
    ]]
    chamfer(chamfer039_edges, length=CHAMFER039_SIZE)

    # Fillet414
    fillet414_edges = [bucket_body.edges().sort_by_distance(p)[0] for p in [
        (485.5, 74.5, 112.49),
        (485.5, 74.5, 117.51),
    ]]
    fillet(fillet414_edges, radius=FILLET414_R)

    # Cut014330: cut Cylinder1218
    add(cylinder1218.part, mode=Mode.SUBTRACT)

    # Fusion248002050207: union Cut014292, Fillet413
    add(cut014292_1.part)
    add(fillet413.part)

    # Cut014331: cut Cylinder1235
    add(cylinder1235.part, mode=Mode.SUBTRACT)

    # Cut014332: cut Fusion248002050202
    add(fusion248002050202.part, mode=Mode.SUBTRACT)

    # Cut014333: cut Fusion248002050194
    add(fusion248002050194_1.part, mode=Mode.SUBTRACT)


solid = bucket_body.part
